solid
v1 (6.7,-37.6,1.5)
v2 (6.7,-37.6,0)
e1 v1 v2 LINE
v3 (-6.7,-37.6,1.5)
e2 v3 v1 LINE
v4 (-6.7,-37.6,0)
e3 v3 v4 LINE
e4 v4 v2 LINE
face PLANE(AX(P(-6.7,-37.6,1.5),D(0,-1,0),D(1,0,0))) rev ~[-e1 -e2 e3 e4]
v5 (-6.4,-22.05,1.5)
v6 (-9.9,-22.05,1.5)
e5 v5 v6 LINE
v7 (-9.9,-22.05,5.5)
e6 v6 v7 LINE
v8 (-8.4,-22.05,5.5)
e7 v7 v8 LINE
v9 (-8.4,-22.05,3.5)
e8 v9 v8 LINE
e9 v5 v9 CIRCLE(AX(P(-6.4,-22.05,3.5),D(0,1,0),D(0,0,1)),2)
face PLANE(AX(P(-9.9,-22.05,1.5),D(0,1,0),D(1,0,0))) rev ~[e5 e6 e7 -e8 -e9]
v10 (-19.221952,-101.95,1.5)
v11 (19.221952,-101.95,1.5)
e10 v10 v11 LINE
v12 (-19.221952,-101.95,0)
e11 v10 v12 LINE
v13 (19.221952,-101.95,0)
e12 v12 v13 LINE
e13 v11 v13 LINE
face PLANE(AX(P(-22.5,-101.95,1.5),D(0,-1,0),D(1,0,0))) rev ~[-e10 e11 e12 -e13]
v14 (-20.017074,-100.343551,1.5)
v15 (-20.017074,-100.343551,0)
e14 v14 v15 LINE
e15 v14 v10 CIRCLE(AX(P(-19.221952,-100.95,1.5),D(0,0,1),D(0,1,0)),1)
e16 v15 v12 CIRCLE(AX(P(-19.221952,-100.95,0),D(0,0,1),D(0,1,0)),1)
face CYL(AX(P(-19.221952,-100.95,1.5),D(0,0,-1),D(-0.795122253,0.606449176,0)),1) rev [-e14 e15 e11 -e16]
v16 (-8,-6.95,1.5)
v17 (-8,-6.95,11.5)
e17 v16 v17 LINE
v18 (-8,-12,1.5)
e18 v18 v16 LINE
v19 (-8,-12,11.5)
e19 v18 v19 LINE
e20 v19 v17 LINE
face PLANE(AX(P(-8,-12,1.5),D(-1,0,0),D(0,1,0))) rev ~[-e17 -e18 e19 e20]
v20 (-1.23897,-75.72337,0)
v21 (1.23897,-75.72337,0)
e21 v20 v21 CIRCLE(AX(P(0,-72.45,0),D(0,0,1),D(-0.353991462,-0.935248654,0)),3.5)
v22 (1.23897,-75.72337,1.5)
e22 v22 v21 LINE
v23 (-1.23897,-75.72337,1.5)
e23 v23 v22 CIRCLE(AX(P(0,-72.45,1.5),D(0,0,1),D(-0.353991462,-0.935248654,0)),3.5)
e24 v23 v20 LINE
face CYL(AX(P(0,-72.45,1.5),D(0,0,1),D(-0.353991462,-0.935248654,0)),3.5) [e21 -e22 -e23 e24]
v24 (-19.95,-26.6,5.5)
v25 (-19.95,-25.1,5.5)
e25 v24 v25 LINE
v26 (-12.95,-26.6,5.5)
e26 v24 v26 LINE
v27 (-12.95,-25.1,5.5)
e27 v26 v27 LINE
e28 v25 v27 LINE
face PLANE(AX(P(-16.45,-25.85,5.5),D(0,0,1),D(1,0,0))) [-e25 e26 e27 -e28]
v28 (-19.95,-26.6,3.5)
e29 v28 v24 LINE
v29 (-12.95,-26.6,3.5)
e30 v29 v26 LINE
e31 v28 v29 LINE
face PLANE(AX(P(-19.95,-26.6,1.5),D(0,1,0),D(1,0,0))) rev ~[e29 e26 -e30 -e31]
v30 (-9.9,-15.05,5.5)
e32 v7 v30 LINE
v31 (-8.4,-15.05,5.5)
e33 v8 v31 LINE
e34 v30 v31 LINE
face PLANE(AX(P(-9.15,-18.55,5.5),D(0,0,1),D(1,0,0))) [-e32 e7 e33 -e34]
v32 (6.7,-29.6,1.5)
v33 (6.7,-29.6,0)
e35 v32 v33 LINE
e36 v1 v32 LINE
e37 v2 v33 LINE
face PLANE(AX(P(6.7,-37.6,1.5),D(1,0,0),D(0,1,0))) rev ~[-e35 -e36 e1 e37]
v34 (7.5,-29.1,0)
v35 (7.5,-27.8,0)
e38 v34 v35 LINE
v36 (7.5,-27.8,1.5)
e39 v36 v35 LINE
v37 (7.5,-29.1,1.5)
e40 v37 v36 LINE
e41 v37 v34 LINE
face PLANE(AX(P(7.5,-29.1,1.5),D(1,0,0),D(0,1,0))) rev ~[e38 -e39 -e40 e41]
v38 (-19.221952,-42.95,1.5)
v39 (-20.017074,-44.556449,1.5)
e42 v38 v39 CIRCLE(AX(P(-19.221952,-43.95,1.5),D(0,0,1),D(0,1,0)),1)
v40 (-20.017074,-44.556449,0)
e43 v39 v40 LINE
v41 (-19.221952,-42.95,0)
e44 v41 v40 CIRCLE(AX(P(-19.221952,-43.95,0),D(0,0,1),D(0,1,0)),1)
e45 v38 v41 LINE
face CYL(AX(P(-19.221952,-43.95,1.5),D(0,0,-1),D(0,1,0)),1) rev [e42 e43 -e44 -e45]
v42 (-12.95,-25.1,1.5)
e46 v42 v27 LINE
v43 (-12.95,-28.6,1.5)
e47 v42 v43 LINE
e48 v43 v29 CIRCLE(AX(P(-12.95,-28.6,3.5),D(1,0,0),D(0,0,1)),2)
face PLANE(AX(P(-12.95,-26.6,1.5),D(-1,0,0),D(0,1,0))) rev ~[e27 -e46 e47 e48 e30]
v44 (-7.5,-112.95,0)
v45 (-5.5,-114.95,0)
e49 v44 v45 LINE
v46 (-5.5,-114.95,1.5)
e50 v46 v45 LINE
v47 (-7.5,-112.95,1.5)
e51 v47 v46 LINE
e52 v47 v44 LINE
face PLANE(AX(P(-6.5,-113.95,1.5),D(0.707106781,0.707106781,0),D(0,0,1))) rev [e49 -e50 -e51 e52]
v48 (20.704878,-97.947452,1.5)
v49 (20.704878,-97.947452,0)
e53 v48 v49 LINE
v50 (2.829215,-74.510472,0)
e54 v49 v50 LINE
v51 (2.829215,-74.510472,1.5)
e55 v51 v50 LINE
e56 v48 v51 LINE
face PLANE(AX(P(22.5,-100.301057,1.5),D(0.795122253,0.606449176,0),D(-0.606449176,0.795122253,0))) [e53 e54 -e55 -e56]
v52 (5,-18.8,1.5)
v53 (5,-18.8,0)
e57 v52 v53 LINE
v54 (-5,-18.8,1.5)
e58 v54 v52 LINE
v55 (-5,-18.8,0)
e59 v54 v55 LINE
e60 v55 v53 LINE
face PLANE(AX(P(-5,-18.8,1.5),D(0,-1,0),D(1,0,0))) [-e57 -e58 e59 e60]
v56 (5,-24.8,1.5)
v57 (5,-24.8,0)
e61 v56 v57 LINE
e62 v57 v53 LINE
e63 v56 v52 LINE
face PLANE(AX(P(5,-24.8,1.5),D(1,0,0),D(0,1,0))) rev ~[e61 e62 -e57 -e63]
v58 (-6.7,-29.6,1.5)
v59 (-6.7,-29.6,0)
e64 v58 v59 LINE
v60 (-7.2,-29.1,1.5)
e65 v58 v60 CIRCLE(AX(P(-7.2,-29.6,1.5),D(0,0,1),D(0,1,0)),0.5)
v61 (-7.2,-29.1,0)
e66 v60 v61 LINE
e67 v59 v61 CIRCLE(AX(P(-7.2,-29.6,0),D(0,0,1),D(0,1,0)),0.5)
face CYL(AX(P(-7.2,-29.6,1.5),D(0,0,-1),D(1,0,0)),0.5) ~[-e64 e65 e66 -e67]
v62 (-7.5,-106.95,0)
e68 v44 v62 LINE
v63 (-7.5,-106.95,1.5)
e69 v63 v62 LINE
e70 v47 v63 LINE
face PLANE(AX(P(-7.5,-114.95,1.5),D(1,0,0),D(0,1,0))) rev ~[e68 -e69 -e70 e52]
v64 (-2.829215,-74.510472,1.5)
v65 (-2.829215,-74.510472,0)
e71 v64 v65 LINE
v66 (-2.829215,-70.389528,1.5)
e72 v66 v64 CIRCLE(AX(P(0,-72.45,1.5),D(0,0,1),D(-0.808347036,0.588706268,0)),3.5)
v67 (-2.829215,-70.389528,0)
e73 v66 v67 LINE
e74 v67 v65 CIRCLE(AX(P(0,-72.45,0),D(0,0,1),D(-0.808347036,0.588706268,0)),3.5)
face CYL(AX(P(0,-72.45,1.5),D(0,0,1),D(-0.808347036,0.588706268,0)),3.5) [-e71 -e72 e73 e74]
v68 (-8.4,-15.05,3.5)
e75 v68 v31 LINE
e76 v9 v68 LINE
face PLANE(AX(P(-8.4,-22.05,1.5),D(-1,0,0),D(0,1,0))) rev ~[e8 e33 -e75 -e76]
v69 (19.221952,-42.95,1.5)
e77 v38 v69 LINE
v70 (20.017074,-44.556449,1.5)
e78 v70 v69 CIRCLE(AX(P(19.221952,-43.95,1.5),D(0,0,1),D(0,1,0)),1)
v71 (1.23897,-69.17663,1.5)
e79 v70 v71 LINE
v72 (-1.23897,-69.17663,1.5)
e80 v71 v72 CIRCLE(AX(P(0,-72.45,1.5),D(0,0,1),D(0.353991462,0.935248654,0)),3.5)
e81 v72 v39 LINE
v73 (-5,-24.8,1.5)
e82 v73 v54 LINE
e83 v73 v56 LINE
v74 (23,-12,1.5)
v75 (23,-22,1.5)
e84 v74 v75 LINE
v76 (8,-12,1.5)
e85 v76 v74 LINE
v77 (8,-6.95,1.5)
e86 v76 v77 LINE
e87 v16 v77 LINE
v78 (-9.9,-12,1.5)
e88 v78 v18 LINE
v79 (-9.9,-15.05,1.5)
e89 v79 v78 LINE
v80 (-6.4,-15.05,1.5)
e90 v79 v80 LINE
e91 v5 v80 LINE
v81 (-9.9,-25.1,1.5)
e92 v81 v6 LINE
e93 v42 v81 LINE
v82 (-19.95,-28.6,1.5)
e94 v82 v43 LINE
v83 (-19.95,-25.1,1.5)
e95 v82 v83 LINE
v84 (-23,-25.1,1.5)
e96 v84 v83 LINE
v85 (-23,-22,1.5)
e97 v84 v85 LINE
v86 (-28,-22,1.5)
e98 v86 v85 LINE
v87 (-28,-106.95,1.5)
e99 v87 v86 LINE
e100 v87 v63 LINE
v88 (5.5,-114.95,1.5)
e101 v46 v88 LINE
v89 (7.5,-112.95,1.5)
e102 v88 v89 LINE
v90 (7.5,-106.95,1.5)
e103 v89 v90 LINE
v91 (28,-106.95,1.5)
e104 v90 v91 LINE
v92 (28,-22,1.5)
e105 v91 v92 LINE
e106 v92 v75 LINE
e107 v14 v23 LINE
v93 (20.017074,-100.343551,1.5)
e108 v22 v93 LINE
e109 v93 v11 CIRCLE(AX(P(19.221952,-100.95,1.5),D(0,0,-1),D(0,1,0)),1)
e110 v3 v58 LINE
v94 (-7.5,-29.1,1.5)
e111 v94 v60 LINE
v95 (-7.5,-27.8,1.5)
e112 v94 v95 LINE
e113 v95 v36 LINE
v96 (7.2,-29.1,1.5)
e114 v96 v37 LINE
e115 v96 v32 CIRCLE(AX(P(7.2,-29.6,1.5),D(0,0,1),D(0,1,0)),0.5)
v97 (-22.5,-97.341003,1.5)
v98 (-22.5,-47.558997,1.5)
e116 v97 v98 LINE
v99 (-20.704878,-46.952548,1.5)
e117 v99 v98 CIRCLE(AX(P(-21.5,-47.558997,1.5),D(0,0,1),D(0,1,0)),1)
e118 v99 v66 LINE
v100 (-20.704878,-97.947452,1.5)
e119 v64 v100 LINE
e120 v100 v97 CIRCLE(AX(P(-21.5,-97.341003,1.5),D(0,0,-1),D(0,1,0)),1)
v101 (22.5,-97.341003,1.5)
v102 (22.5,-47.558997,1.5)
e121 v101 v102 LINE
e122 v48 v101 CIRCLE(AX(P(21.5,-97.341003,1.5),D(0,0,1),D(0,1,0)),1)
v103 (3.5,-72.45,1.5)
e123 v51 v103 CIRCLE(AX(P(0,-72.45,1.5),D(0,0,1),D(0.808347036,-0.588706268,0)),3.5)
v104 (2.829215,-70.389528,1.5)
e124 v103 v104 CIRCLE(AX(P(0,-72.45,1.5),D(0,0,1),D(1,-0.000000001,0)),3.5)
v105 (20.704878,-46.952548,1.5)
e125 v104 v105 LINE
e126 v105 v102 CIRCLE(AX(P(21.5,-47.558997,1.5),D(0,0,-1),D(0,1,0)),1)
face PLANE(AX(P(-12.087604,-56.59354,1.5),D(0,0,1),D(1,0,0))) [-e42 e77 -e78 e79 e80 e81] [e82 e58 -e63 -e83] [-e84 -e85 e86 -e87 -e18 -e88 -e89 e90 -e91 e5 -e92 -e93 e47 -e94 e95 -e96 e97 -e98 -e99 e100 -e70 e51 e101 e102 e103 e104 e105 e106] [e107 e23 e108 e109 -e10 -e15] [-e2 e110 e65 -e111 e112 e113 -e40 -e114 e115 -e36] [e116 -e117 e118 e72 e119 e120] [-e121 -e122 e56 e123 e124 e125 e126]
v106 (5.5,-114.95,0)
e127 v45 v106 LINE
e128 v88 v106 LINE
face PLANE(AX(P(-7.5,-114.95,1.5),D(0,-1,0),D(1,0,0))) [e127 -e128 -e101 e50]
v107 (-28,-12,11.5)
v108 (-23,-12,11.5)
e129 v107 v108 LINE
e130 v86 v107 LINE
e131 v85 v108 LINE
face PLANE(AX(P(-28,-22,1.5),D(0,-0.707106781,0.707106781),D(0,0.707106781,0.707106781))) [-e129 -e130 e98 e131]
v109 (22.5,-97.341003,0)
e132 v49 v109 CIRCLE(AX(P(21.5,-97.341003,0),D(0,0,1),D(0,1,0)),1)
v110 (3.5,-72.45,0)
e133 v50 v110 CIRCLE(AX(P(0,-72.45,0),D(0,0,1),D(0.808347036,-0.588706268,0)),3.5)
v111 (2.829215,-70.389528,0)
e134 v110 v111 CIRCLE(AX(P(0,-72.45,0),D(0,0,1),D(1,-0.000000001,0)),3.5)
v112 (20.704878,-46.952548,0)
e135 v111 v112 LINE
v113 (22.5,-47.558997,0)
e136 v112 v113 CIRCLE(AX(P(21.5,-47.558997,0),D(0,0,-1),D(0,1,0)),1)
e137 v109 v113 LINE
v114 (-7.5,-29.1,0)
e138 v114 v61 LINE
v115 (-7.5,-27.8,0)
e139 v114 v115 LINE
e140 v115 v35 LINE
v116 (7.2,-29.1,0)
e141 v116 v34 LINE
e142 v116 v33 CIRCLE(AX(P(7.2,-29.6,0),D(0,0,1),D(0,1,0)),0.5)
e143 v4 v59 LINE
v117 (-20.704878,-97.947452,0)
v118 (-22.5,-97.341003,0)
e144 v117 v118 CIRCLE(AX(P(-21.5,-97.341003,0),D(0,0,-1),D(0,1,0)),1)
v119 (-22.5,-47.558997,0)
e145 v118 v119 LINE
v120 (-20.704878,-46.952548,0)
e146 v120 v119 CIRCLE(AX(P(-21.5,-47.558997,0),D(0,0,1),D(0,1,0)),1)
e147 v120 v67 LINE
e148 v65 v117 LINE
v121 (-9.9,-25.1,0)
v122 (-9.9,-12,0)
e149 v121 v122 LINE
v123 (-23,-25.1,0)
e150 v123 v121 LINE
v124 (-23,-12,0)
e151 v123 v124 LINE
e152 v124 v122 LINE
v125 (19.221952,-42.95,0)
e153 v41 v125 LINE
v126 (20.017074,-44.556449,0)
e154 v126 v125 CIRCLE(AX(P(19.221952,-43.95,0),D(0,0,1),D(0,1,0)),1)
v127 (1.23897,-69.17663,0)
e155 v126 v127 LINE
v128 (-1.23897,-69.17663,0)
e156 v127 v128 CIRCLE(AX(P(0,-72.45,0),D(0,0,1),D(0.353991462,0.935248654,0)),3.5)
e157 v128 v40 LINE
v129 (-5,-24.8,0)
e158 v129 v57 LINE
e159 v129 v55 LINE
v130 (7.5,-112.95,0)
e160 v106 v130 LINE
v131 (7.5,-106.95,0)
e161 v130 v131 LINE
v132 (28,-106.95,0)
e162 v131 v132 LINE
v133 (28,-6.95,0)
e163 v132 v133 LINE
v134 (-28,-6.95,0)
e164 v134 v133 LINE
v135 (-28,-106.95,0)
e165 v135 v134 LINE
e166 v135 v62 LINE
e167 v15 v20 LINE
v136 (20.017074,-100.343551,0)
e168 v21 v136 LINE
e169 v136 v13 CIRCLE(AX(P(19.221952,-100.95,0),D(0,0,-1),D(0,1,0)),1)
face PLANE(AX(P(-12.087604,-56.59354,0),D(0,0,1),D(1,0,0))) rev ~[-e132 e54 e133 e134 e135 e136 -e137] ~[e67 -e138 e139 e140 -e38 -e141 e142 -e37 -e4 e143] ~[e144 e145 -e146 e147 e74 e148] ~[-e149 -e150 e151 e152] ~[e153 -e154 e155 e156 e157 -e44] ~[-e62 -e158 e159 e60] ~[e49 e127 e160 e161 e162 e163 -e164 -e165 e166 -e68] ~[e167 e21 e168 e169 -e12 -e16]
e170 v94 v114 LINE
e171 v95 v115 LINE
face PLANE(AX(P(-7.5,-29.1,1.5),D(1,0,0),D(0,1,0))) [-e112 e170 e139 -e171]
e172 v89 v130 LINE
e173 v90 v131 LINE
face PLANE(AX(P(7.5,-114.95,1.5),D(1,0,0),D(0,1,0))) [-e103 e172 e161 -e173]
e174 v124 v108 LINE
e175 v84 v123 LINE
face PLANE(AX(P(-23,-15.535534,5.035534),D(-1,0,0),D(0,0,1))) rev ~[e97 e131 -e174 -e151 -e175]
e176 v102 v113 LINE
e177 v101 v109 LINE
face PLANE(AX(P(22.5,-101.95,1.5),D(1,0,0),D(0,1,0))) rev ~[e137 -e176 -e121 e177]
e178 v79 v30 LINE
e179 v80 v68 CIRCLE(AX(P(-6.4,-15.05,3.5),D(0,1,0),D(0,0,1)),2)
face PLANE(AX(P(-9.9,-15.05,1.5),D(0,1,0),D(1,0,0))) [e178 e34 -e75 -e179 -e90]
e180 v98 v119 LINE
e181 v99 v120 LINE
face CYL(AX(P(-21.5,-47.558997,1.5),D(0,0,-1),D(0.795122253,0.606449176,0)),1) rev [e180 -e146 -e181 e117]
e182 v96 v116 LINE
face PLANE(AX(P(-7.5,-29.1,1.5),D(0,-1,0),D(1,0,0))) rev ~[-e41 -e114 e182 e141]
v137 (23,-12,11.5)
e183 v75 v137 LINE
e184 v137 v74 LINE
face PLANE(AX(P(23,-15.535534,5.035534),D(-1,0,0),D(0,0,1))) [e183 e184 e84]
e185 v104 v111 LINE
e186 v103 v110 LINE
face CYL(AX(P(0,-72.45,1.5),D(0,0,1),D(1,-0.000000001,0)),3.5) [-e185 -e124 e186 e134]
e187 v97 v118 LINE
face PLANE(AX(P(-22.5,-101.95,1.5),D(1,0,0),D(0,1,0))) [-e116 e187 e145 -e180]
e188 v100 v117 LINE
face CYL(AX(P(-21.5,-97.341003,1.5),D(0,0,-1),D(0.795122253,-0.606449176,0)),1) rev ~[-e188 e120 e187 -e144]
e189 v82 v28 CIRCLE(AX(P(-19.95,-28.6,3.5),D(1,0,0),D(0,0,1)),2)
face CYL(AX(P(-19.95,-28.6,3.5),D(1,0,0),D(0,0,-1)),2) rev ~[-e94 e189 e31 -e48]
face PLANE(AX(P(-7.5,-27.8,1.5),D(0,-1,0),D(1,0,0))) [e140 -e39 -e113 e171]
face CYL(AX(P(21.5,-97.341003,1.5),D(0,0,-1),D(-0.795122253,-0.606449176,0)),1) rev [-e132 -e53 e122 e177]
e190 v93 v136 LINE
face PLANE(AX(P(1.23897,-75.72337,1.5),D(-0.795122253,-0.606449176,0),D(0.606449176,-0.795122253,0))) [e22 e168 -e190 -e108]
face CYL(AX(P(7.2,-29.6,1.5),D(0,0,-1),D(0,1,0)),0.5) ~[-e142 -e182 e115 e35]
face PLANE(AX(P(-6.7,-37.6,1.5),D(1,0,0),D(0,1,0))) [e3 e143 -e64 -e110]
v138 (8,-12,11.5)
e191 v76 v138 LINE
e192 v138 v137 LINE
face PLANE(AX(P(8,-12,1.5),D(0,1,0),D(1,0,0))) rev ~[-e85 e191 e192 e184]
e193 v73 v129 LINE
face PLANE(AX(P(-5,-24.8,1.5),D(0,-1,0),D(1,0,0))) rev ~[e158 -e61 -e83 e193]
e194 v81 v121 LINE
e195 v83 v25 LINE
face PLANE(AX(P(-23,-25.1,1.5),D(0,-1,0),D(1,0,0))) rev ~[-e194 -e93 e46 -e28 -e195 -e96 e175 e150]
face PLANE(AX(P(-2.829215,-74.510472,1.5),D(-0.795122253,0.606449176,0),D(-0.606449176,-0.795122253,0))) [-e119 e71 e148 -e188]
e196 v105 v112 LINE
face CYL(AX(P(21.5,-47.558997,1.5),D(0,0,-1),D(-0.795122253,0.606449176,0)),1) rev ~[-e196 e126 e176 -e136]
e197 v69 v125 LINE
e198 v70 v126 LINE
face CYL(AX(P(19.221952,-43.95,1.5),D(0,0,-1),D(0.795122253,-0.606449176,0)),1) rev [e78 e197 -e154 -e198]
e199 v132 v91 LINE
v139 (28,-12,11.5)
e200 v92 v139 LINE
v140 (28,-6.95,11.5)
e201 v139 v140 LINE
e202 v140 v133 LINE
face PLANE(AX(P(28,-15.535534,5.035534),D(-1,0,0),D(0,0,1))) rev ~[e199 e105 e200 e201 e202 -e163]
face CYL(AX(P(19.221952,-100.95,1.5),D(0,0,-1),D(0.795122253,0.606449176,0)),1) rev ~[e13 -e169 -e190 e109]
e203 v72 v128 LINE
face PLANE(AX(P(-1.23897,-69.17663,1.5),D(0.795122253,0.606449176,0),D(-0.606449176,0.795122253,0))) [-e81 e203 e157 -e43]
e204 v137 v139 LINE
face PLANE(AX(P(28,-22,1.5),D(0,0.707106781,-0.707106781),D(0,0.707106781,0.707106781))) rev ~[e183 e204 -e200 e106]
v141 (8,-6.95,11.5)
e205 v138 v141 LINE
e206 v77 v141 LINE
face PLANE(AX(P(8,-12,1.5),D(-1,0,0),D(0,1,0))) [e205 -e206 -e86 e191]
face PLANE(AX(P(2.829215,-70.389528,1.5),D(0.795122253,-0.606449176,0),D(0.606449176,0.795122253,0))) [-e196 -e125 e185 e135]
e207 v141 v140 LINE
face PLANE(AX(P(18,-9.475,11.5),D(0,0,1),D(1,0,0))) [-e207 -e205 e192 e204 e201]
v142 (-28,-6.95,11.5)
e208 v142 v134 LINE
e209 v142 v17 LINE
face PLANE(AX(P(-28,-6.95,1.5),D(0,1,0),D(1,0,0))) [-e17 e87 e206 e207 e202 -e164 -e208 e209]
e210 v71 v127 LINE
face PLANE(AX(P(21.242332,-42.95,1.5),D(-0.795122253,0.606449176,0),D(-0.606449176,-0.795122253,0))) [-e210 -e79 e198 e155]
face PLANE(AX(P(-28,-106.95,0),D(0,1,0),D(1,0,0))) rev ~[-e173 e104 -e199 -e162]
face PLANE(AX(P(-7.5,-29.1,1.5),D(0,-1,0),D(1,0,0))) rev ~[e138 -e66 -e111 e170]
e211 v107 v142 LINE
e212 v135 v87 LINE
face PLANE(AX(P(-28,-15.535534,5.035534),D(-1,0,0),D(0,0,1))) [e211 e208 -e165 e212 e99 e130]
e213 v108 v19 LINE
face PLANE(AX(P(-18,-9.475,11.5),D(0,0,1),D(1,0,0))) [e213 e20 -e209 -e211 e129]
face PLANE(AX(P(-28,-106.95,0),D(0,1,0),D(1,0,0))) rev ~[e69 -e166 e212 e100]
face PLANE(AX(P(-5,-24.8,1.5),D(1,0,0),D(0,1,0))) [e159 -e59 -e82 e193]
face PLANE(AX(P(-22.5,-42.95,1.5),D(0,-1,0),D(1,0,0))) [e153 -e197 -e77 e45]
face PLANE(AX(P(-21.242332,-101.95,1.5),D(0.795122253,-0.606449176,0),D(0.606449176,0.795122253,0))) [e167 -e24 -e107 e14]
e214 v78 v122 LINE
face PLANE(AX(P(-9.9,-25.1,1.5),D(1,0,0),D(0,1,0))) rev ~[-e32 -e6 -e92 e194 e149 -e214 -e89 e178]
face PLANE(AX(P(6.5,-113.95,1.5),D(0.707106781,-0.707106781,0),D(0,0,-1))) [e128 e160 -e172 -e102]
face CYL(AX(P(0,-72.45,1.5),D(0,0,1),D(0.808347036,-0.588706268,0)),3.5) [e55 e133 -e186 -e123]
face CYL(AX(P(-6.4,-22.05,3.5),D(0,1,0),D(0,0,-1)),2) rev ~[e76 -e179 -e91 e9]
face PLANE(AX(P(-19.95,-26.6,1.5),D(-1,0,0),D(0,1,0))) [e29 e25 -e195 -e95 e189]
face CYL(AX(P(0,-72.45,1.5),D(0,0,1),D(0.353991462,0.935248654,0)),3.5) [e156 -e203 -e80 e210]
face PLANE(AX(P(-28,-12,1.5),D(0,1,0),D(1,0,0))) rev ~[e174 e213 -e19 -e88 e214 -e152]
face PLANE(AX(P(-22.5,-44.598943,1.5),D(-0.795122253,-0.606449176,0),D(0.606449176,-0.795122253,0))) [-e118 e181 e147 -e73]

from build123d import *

# Parameters (mm, degrees)
SKETCH1_W           = 56
SKETCH1_H           = 100
BOSS_EXTRUDE1_DEPTH = 1.5
SKETCH2_W           = 20
SKETCH2_H           = 5.05
BOSS_EXTRUDE2_DEPTH = 10
SKETCH3_W           = 13.1
SKETCH3_H           = 13.1
CUT_EXTRUDE1_DEPTH  = 112.005866962
BOSS_EXTRUDE3_DEPTH = 5
BOSS_EXTRUDE4_DEPTH = 5
SKETCH6_W           = 7
SKETCH6_H           = 1.5
SKETCH6_W_2         = 1.5
SKETCH6_H_2         = 7
BOSS_EXTRUDE5_DEPTH = 4
SKETCH7_W           = 15
SKETCH7_H           = 1.3
CUT_EXTRUDE2_DEPTH  = 112.005866962
SKETCH8_W           = 13.4
SKETCH8_H           = 8.5
SKETCH8_W_2         = 10
SKETCH8_H_2         = 6
CUT_EXTRUDE3_DEPTH  = 112.005866962
FILLET1_R           = 2
SKETCH9_W           = 15
SKETCH9_H           = 8
BOSS_EXTRUDE6_DEPTH = 1.5
CHAMFER1_SIZE       = 2
SKETCH10_W          = 45
SKETCH10_H          = 59
CUT_EXTRUDE4_DEPTH  = 4
BOSS_EXTRUDE7_DEPTH = 1.5
FILLET2_R           = 1
FILLET3_R           = 0.5


with BuildPart() as part:
    # Sketch1 → Boss-Extrude1 (new body)
    with BuildSketch(Plane.XY):
        with Locations((0, -56.95)):
            Rectangle(SKETCH1_W, SKETCH1_H)
    extrude(amount=BOSS_EXTRUDE1_DEPTH)

    # Sketch2 → Boss-Extrude2 (add)
    with BuildSketch(Plane.XY.offset(1.5)):
        with Locations((-18, -9.475)):
            Rectangle(SKETCH2_W, SKETCH2_H)
        with Locations((18, -9.475)):
            Rectangle(SKETCH2_W, SKETCH2_H)
    extrude(amount=BOSS_EXTRUDE2_DEPTH)

    # Sketch3 → Cut-Extrude1 (cut, through all)
    with BuildSketch(Plane.XY.offset(1.5)):
        with Locations((-16.45, -18.55)):
            Rectangle(SKETCH3_W, SKETCH3_H)
    extrude(amount=-CUT_EXTRUDE1_DEPTH, mode=Mode.SUBTRACT)

    # Sketch4 → Boss-Extrude3 (add)
    with BuildSketch(Plane(origin=(28, 0, 0), x_dir=(0, 0, -1), z_dir=(1, 0, 0))):
        Polygon((-11.5, -12), (-1.5, -12), (-1.5, -22), align=None)
    extrude(amount=-BOSS_EXTRUDE3_DEPTH)

    # Sketch5 → Boss-Extrude4 (add)
    with BuildSketch(Plane.ZY.offset(28)):
        Polygon((1.5, -22), (11.5, -12), (1.5, -12), align=None)
    extrude(amount=-BOSS_EXTRUDE4_DEPTH)

    # Sketch6 → Boss-Extrude5 (add)
    with BuildSketch(Plane.XY.offset(1.5)):
        with Locations((-16.45, -25.85)):
            Rectangle(SKETCH6_W, SKETCH6_H)
        with Locations((-9.15, -18.55)):
            Rectangle(SKETCH6_W_2, SKETCH6_H_2)
    extrude(amount=BOSS_EXTRUDE5_DEPTH)

    # Sketch7 → Cut-Extrude2 (cut, through all)
    with BuildSketch(Plane.XY.offset(1.5)):
        with Locations((0, -28.45)):
            Rectangle(SKETCH7_W, SKETCH7_H)
    extrude(amount=-CUT_EXTRUDE2_DEPTH, mode=Mode.SUBTRACT)

    # Sketch8 → Cut-Extrude3 (cut, through all)
    with BuildSketch(Plane.XY.offset(1.5)):
        with Locations((0, -33.35)):
            Rectangle(SKETCH8_W, SKETCH8_H)
        with Locations((0, -21.8)):
            Rectangle(SKETCH8_W_2, SKETCH8_H_2)
    extrude(amount=-CUT_EXTRUDE3_DEPTH, mode=Mode.SUBTRACT)

    # Fillet1
    fillet1_edges = [part.edges().sort_by_distance(p)[0] for p in [
        (-16.45, -26.6, 1.5),
        (-8.4, -18.55, 1.5),
    ]]
    fillet(fillet1_edges, radius=FILLET1_R)

    # Sketch9 → Boss-Extrude6 (add)
    with BuildSketch(Plane.XY.offset(1.5)):
        with Locations((0, -110.95)):
            Rectangle(SKETCH9_W, SKETCH9_H)
    extrude(amount=-BOSS_EXTRUDE6_DEPTH)

    # Chamfer1
    chamfer1_edges = [part.edges().sort_by_distance(p)[0] for p in [
        (-7.5, -114.95, 0.75),
        (7.5, -114.95, 0.75),
    ]]
    chamfer(chamfer1_edges, length=CHAMFER1_SIZE)

    # Sketch10 → Cut-Extrude4 (cut)
    with BuildSketch(Plane.XY.offset(1.5)):
        with Locations((0, -72.45)):
            Rectangle(SKETCH10_W, SKETCH10_H)
    extrude(amount=-CUT_EXTRUDE4_DEPTH, mode=Mode.SUBTRACT)

    # Sketch11 → Boss-Extrude7 (add)
    with BuildSketch(Plane.XY.offset(1.5)):
        with BuildLine():
            Line((-21.242331765, -42.95), (-22.5, -42.95))
            Line((-22.5, -42.95), (-22.5, -44.598942796))
            Line((-22.5, -44.598942796), (-2.829214626, -70.389528064))
            ThreePointArc((-2.829214626, -70.389528064), (-2.122572116, -69.667072115), (-1.238970121, -69.176629712))
            Line((-1.238970121, -69.176629712), (-21.242331765, -42.95))
        make_face()
        with BuildLine():
            Line((22.5, -42.95), (21.242331765, -42.95))
            Line((21.242331765, -42.95), (1.238970121, -69.176629712))
            ThreePointArc((1.238970121, -69.176629712), (2.122572116, -69.667072115), (2.829214626, -70.389528064))
            Line((2.829214626, -70.389528064), (22.5, -44.598942796))
            Line((22.5, -44.598942796), (22.5, -42.95))
        make_face()
        with BuildLine():
            Line((22.5, -100.301057204), (2.829214626, -74.510471936))
            ThreePointArc((2.829214626, -74.510471936), (2.122572116, -75.232927885), (1.238970121, -75.723370288))
            Line((1.238970121, -75.723370288), (21.242331765, -101.95))
            Line((21.242331765, -101.95), (22.5, -101.95))
            Line((22.5, -101.95), (22.5, -100.301057204))
        make_face()
        with BuildLine():
            Line((-2.829214626, -74.510471936), (-22.5, -100.301057204))
            Line((-22.5, -100.301057204), (-22.5, -101.95))
            Line((-22.5, -101.95), (-21.242331765, -101.95))
            Line((-21.242331765, -101.95), (-1.238970121, -75.723370288))
            ThreePointArc((-1.238970121, -75.723370288), (-2.122572116, -75.232927885), (-2.829214626, -74.510471936))
        make_face()
        with BuildLine():
            Line((-1.257668235, -72.45), (-2.829214626, -70.389528064))
            ThreePointArc((-2.829214626, -70.389528064), (-3.5, -72.45), (-2.829214626, -74.510471936))
            Line((-2.829214626, -74.510471936), (-1.257668235, -72.45))
        make_face()
        with BuildLine():
            Line((0, -70.801057204), (-1.238970121, -69.176629712))
            ThreePointArc((-1.238970121, -69.176629712), (-2.122572116, -69.667072115), (-2.829214626, -70.389528064))
            Line((-2.829214626, -70.389528064), (-1.257668235, -72.45))
            Line((-1.257668235, -72.45), (0, -70.801057204))
        make_face()
        with BuildLine():
            Line((0, -74.098942796), (-1.257668235, -72.45))
            Line((-1.257668235, -72.45), (-2.829214626, -74.510471936))
            ThreePointArc((-2.829214626, -74.510471936), (-2.122572116, -75.232927885), (-1.238970121, -75.723370288))
            Line((-1.238970121, -75.723370288), (0, -74.098942796))
        make_face()
        with BuildLine():
            Line((1.238970121, -75.723370288), (0, -74.098942796))
            Line((0, -74.098942796), (-1.238970121, -75.723370288))
            ThreePointArc((-1.238970121, -75.723370288), (0, -75.95), (1.238970121, -75.723370288))
        make_face()
        with BuildLine():
            Line((2.829214626, -70.389528064), (1.257668235, -72.45))
            Line((1.257668235, -72.45), (2.829214626, -74.510471936))
            ThreePointArc((2.829214626, -74.510471936), (3.328081369, -73.533454846), (3.5, -72.45))
            ThreePointArc((3.5, -72.45), (3.328081369, -71.366545154), (2.829214626, -70.389528064))
        make_face()
        with BuildLine():
            Line((2.829214626, -74.510471936), (1.257668235, -72.45))
            Line((1.257668235, -72.45), (0, -74.098942796))
            Line((0, -74.098942796), (1.238970121, -75.723370288))
            ThreePointArc((1.238970121, -75.723370288), (2.122572116, -75.232927885), (2.829214626, -74.510471936))
        make_face()
        with BuildLine():
            Line((1.238970121, -69.176629712), (0, -70.801057204))
            Line((0, -70.801057204), (1.257668235, -72.45))
            Line((1.257668235, -72.45), (2.829214626, -70.389528064))
            ThreePointArc((2.829214626, -70.389528064), (2.122572116, -69.667072115), (1.238970121, -69.176629712))
        make_face()
        with BuildLine():
            ThreePointArc((1.238970121, -69.176629712), (0, -68.95), (-1.238970121, -69.176629712))
            Line((-1.238970121, -69.176629712), (0, -70.801057204))
            Line((0, -70.801057204), (1.238970121, -69.176629712))
        make_face()
        Polygon((1.257668235, -72.45), (0, -70.801057204), (-1.257668235, -72.45), (0, -74.098942796), align=None)
    extrude(amount=-BOSS_EXTRUDE7_DEPTH)

    # Fillet2
    fillet2_edges = [part.edges().sort_by_distance(p)[0] for p in [
        (-22.5, -100.301057204, 0.75),
        (-21.242331765, -101.95, 0.75),
        (21.242331765, -101.95, 0.75),
        (22.5, -100.301057204, 0.75),
        (22.5, -44.598942796, 0.75),
        (21.242331765, -42.95, 0.75),
        (-21.242331765, -42.95, 0.75),
        (-22.5, -44.598942796, 0.75),
    ]]
    fillet(fillet2_edges, radius=FILLET2_R)

    # Fillet3
    fillet3_edges = [part.edges().sort_by_distance(p)[0] for p in [
        (6.7, -29.1, 0.75),
        (-6.7, -29.1, 0.75),
    ]]
    fillet(fillet3_edges, radius=FILLET3_R)


solid = part.part
